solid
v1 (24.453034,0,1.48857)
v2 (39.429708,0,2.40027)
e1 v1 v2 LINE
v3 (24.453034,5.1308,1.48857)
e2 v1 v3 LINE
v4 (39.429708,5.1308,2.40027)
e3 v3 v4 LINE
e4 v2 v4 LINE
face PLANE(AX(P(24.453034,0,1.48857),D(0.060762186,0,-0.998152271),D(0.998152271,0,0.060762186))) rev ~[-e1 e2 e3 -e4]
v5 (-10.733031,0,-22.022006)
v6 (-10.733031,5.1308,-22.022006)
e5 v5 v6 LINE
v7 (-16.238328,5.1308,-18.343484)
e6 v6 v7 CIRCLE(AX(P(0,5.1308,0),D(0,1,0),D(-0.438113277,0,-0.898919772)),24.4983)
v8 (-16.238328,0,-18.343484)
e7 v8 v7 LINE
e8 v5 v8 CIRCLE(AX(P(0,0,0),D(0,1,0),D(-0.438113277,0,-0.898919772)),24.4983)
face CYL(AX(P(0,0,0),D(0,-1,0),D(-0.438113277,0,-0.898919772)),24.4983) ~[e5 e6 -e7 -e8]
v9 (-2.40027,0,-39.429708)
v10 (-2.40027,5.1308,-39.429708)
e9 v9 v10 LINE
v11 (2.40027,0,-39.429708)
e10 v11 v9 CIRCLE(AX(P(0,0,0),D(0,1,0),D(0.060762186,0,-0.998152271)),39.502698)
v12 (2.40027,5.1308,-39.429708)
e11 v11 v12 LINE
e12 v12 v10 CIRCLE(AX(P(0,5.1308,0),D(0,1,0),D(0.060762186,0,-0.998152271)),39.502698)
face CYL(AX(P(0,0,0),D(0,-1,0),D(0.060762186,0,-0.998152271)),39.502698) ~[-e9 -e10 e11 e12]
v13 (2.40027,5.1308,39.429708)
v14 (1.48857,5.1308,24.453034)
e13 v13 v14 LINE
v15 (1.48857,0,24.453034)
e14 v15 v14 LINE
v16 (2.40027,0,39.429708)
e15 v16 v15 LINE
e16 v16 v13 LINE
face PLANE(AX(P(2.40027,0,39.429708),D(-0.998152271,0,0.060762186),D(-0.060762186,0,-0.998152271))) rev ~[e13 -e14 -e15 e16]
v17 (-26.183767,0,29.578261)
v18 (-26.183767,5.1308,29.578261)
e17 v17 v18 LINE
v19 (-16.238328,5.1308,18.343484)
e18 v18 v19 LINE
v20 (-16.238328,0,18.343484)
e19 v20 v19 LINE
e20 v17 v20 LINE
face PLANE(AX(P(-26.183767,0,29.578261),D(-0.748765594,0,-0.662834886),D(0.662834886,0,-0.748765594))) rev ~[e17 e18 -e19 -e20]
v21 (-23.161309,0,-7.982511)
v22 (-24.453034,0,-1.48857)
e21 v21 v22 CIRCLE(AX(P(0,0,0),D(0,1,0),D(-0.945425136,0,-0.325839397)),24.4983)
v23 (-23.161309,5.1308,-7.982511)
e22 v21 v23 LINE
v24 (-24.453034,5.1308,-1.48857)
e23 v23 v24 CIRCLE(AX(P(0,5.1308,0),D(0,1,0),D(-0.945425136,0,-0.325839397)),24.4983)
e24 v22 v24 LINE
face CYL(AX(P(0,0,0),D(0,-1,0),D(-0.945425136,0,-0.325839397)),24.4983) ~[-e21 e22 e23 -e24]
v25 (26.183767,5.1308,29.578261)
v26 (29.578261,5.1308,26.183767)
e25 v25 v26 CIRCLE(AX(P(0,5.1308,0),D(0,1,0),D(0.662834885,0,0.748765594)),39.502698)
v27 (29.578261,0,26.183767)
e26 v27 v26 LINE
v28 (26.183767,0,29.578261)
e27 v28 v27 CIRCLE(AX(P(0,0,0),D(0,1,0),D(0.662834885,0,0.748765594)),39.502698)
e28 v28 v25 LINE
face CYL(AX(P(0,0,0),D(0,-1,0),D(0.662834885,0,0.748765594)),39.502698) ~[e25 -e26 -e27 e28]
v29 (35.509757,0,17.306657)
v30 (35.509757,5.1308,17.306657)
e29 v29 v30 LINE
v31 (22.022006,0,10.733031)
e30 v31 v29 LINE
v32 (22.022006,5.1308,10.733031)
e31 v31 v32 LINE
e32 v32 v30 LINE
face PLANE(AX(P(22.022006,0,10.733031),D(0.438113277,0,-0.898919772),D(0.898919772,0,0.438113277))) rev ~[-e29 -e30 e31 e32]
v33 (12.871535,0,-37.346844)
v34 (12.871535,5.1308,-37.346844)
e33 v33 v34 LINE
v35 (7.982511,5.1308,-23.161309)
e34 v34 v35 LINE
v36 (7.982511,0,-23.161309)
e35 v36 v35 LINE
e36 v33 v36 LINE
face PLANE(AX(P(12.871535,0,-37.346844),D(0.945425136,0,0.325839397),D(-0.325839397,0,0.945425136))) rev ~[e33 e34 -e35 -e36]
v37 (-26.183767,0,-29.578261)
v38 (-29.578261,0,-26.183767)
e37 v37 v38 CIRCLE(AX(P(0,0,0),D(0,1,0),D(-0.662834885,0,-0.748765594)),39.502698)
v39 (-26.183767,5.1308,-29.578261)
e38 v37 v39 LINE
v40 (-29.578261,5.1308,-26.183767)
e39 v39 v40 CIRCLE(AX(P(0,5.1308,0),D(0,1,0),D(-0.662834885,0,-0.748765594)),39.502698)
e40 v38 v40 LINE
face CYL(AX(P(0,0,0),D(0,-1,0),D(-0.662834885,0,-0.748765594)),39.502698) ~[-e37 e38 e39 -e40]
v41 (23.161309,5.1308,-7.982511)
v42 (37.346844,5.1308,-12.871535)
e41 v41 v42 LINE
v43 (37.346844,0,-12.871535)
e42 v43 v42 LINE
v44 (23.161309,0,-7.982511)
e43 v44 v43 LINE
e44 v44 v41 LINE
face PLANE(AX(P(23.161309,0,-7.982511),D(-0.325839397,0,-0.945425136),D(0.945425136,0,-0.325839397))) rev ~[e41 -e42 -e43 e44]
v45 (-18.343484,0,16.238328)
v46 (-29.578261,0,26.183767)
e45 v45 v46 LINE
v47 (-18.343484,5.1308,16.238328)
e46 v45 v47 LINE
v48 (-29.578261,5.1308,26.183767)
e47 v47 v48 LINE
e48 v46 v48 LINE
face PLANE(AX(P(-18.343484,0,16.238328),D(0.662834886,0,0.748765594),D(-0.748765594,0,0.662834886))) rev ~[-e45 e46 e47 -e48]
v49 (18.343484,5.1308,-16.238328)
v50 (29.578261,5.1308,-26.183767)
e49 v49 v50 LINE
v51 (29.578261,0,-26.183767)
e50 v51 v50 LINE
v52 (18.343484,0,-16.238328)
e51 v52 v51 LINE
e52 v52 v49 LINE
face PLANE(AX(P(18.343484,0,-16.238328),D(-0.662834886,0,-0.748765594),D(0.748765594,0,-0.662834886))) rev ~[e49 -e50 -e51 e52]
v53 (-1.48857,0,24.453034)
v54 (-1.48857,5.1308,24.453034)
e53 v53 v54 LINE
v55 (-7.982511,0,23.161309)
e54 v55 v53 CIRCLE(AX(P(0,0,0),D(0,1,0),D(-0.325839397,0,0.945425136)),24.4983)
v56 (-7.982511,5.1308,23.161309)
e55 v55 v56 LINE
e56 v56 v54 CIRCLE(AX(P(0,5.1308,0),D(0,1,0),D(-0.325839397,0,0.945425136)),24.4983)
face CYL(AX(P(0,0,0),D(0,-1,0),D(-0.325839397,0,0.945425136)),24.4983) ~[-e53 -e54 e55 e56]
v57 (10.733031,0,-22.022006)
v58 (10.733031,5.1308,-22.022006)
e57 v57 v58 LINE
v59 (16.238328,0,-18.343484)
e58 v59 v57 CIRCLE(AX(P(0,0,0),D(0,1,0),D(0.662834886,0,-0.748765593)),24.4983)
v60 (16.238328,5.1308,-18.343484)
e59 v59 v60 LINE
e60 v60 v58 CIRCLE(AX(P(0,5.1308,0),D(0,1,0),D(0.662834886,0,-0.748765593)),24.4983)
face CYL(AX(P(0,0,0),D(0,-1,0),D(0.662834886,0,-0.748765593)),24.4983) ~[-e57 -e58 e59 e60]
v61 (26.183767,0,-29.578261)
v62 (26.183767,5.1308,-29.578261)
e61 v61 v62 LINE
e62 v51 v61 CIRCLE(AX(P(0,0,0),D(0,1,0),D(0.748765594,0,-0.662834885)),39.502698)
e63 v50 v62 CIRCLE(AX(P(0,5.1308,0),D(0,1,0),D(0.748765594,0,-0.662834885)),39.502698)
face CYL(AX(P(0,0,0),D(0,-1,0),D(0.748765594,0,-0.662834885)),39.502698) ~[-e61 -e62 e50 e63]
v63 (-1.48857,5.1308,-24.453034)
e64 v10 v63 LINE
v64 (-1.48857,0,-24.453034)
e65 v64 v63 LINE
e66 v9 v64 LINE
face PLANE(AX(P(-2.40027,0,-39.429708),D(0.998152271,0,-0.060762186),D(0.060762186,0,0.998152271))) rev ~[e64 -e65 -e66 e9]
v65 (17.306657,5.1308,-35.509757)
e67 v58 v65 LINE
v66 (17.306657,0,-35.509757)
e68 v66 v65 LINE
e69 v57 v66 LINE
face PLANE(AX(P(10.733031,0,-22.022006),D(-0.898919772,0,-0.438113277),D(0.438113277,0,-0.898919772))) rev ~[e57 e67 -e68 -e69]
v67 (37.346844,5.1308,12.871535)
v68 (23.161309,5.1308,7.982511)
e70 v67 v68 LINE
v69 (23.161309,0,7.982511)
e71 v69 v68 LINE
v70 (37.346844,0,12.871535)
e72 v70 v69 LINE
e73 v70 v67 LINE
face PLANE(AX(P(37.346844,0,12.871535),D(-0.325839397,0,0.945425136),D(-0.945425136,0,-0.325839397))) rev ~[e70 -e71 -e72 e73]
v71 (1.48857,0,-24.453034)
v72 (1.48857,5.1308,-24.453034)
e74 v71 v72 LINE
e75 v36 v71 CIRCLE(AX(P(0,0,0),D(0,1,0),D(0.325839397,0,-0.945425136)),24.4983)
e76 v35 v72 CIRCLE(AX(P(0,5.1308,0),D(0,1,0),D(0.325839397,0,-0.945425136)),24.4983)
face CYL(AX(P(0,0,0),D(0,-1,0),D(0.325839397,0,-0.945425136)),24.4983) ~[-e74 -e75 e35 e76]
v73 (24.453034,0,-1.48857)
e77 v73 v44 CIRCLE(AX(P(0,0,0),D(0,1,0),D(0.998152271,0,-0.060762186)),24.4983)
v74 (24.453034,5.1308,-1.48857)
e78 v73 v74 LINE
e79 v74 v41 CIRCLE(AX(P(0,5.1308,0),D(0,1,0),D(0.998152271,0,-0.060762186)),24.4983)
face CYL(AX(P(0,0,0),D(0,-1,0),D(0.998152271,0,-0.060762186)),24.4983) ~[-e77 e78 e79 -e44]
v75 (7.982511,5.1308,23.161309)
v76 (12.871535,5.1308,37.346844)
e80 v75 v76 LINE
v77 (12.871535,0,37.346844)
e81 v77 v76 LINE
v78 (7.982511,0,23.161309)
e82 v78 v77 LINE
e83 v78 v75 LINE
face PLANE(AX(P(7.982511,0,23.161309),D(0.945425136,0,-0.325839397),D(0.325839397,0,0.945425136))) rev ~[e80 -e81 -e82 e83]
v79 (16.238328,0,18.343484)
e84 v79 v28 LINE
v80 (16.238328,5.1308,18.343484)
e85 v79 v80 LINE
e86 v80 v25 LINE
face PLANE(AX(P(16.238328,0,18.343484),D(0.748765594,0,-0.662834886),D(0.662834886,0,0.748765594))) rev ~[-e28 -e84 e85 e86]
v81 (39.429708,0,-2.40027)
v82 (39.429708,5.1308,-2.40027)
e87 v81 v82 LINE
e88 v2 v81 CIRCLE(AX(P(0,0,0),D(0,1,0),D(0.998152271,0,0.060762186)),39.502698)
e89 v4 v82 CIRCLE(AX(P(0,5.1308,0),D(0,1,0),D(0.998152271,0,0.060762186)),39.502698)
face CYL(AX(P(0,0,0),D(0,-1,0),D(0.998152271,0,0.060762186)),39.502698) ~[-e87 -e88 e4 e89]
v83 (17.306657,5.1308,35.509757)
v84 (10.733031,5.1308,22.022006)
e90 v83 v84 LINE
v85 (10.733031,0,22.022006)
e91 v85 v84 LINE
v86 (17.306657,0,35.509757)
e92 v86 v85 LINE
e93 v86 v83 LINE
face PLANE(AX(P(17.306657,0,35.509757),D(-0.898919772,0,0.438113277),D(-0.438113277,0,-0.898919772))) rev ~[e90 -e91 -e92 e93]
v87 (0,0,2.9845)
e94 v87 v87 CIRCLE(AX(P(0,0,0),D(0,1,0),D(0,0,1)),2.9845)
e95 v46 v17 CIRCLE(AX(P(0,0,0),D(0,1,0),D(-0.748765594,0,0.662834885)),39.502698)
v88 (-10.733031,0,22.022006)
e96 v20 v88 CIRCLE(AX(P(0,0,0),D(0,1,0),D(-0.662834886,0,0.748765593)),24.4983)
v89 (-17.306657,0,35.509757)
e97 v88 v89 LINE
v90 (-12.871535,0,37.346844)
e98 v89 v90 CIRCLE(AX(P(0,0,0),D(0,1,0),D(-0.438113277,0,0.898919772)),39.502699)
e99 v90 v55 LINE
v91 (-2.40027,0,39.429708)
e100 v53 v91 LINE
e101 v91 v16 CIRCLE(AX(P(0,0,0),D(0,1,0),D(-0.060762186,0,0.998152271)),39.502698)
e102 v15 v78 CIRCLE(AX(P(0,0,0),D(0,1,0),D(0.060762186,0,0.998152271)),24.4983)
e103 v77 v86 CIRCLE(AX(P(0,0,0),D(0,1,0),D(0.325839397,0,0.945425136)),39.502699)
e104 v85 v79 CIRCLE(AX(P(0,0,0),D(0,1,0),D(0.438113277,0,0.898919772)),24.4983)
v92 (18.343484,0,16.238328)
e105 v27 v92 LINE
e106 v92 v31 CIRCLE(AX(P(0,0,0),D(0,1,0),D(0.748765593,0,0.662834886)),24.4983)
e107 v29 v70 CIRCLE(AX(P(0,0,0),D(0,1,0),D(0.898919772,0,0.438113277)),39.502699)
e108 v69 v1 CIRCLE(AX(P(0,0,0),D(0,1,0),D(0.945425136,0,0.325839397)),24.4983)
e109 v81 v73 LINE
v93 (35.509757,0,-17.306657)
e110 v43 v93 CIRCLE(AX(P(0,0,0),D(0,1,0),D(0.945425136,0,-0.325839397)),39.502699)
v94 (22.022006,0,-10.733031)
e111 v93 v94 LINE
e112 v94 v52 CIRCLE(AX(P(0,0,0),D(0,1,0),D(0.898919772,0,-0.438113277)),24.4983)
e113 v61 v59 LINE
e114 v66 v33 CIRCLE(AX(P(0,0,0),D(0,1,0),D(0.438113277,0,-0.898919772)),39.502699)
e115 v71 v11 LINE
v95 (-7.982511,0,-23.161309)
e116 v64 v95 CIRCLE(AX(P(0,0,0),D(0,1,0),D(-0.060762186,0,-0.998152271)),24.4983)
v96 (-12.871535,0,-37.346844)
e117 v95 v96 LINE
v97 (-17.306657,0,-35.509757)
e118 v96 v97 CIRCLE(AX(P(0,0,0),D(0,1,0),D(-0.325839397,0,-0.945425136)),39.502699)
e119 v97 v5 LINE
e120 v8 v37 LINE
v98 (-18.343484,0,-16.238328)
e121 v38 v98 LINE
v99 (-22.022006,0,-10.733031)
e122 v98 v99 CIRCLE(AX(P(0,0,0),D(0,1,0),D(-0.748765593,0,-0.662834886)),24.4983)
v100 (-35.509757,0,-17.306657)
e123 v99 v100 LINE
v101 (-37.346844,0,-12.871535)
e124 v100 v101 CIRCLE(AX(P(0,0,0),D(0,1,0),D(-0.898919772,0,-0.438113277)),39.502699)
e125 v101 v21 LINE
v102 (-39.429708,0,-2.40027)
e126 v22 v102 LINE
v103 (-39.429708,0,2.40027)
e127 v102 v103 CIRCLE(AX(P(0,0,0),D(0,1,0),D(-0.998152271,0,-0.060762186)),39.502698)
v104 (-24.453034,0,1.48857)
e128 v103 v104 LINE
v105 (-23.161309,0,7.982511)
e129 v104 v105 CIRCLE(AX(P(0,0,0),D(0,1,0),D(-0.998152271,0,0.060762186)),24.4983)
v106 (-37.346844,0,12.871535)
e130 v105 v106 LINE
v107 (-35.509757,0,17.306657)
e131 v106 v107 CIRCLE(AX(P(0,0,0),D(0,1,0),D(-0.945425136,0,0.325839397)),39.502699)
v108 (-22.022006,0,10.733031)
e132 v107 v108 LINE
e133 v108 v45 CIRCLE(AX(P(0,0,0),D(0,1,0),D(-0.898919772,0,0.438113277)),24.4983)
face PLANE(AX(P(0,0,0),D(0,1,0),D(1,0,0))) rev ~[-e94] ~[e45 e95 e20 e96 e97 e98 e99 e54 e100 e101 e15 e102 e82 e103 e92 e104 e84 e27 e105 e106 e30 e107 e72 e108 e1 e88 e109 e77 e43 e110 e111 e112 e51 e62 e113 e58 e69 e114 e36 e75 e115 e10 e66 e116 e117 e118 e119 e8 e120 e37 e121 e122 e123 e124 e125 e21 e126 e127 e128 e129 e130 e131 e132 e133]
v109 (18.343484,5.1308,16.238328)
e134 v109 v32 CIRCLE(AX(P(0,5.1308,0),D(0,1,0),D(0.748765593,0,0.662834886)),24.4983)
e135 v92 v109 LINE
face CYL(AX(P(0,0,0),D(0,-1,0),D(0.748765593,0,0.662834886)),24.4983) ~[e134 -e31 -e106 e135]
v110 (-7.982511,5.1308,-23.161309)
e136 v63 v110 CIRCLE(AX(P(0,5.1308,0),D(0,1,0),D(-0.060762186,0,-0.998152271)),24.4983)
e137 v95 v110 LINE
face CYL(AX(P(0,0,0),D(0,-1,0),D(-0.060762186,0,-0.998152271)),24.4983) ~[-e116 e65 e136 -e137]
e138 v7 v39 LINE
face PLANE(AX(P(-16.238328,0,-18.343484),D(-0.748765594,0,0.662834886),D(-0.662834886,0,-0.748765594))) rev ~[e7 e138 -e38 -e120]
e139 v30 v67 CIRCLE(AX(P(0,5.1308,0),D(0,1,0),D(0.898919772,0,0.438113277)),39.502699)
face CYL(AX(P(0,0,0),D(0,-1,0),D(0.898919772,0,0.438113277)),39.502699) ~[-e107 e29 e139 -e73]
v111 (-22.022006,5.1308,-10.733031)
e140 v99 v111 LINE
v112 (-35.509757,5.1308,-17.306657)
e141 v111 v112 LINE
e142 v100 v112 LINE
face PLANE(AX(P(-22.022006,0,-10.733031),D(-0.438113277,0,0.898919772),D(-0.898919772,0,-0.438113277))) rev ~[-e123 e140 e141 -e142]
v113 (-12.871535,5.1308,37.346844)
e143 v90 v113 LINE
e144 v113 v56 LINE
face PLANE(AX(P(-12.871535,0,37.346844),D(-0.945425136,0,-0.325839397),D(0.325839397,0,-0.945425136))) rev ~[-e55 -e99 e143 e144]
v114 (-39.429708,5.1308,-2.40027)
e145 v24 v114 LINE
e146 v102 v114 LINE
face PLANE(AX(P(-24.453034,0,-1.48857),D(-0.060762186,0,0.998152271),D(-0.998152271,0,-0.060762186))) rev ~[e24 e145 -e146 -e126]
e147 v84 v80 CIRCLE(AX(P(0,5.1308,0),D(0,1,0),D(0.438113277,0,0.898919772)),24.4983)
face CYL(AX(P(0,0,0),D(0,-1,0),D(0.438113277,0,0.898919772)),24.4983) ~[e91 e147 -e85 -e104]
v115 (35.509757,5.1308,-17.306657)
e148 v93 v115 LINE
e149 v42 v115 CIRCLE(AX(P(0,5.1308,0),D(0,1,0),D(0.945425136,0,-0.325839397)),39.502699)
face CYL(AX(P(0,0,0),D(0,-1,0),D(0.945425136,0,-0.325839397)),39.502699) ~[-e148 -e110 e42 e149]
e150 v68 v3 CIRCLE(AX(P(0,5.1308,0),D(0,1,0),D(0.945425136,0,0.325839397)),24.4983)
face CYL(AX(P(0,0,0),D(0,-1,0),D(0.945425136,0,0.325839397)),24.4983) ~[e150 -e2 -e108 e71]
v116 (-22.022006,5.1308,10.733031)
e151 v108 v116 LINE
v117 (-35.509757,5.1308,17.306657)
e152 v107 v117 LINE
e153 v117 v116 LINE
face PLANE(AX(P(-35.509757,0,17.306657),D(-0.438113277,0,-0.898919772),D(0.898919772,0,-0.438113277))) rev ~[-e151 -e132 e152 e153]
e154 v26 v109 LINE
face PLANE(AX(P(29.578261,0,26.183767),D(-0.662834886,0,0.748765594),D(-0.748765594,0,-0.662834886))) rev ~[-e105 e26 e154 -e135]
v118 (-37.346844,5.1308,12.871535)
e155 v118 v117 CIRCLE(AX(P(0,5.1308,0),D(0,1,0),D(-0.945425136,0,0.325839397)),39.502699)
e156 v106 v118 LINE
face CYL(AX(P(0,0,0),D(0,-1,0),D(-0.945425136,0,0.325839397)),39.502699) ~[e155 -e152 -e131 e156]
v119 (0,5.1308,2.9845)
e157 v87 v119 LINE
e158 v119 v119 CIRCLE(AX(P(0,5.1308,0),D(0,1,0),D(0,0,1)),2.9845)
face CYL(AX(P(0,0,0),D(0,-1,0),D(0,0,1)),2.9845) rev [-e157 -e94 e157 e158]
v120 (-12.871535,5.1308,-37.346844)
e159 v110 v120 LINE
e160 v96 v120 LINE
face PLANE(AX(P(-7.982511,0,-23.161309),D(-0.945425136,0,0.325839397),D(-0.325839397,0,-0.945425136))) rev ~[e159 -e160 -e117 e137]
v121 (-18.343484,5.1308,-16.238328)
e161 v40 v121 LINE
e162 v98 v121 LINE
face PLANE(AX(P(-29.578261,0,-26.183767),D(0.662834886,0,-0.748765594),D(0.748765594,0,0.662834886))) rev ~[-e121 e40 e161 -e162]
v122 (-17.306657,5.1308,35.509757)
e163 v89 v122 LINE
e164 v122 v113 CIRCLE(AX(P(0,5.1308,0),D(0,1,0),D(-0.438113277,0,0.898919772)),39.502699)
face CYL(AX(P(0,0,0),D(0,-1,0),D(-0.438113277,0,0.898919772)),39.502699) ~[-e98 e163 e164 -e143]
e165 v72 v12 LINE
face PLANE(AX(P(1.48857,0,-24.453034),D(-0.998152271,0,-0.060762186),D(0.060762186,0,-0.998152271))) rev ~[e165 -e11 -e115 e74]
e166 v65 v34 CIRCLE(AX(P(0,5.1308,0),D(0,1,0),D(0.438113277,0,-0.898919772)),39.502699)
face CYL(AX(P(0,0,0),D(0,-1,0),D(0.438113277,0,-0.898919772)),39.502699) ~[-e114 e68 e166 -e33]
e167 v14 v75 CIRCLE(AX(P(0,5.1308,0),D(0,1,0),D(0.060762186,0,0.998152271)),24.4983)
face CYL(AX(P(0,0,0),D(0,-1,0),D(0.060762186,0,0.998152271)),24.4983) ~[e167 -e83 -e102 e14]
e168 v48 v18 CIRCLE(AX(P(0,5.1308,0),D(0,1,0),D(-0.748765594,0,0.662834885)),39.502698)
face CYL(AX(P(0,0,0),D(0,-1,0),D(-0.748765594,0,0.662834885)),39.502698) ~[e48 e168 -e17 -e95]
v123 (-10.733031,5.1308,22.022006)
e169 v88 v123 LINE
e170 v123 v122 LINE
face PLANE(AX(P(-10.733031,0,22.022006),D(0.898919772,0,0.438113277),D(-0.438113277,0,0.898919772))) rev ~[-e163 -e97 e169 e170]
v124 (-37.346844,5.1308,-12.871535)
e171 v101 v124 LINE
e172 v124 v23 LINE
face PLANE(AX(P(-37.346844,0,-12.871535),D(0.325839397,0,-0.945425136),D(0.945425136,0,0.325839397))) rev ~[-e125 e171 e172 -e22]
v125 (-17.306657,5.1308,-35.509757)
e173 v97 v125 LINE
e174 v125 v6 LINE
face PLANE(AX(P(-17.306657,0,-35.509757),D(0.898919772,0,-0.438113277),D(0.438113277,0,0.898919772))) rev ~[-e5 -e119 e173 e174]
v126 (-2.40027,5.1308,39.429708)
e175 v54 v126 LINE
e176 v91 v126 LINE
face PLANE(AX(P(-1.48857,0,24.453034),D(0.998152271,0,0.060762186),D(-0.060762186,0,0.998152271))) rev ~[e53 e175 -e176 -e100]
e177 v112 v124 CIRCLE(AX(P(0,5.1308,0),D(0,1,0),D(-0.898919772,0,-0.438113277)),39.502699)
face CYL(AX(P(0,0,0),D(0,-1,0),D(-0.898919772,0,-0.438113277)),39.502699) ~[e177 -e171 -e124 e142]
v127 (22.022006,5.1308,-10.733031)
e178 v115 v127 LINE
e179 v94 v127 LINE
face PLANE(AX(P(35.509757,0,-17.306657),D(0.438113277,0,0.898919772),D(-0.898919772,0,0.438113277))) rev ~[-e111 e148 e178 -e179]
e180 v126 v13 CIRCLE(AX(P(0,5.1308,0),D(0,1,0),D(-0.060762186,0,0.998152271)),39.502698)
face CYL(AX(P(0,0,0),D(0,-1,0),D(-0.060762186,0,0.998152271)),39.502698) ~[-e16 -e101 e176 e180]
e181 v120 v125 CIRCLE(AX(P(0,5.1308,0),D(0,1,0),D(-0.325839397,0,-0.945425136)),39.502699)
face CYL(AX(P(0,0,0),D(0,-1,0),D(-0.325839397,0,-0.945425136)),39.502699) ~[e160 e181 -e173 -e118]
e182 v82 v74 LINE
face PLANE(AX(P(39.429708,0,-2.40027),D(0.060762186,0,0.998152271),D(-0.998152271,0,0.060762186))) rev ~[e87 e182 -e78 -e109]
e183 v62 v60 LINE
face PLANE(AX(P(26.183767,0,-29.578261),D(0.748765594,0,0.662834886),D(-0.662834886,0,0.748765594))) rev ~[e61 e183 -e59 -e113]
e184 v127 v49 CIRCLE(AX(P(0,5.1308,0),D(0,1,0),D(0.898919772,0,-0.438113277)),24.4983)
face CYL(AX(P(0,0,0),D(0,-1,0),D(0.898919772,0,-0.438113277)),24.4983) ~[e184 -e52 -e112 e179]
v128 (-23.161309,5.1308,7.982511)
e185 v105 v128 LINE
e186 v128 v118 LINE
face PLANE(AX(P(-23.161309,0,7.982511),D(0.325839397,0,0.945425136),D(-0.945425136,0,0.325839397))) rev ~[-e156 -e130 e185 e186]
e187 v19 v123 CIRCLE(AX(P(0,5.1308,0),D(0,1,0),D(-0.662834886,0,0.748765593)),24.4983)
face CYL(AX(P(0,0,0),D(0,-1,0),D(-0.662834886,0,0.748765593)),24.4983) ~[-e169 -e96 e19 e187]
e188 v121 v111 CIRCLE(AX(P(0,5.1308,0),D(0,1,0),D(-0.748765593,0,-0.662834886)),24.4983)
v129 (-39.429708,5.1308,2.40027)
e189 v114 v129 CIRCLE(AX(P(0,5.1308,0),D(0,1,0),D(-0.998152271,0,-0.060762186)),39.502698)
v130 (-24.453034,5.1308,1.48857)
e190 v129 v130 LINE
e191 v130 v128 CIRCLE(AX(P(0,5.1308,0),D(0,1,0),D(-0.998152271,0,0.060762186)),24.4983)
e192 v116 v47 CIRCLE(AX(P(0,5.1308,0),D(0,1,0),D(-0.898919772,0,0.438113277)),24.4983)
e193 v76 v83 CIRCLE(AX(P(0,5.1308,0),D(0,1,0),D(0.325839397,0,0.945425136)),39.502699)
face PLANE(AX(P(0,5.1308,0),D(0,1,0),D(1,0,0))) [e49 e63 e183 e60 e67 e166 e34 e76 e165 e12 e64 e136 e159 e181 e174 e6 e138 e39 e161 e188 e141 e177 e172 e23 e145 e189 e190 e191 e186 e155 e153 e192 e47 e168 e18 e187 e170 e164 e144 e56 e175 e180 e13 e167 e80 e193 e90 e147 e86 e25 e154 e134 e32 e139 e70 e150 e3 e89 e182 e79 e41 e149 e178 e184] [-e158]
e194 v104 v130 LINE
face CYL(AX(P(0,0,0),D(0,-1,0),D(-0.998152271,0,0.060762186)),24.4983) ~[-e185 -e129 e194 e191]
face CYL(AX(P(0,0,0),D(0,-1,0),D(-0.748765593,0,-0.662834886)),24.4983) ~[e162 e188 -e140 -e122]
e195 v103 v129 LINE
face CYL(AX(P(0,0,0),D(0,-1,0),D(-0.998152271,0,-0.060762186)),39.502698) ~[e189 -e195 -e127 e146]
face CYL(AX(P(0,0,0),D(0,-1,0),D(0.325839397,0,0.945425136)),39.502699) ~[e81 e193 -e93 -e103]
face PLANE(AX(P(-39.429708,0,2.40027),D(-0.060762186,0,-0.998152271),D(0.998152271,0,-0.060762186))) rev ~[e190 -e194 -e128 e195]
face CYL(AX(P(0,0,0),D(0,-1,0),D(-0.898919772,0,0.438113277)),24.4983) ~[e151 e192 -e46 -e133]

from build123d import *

# Parameters (mm, degrees)
SKETCH2_R           = 2.9845
BOSS_EXTRUDE1_DEPTH = 5.1308


with BuildPart() as part:
    # Sketch2 → Boss-Extrude1 (new body)
    with BuildSketch(Plane(origin=(0, 0, 0), x_dir=(1, 0, 0), z_dir=(0, 1, 0))):
        with BuildLine():
            Line((-17.306656678, 35.509756676), (-10.733030501, 22.022006247))
            ThreePointArc((-10.733030501, 22.022006247), (-13.61052624, 20.369592003), (-16.238327885, 18.34348414))
            Line((-16.238327885, 18.34348414), (-26.183766617, 29.578261448))
            ThreePointArc((-26.183766617, 29.578261448), (-27.932625947, 27.932625947), (-29.578261448, 26.183766617))
            Line((-29.578261448, 26.183766617), (-18.34348414, 16.238327885))
            ThreePointArc((-18.34348414, 16.238327885), (-20.369592003, 13.61052624), (-22.022006247, 10.733030501))
            Line((-22.022006247, 10.733030501), (-35.509756676, 17.306656678))
            ThreePointArc((-35.509756676, 17.306656678), (-36.495734573, 15.117028229), (-37.34684404, 12.871535447))
            Line((-37.34684404, 12.871535447), (-23.161308603, 7.982511303))
            ThreePointArc((-23.161308603, 7.982511303), (-24.027572035, 4.779381236), (-24.453033788, 1.488570263))
            Line((-24.453033788, 1.488570263), (-39.429708177, 2.400270314))
            ThreePointArc((-39.429708177, 2.400270314), (-39.502698446, 0), (-39.429708177, -2.400270314))
            Line((-39.429708177, -2.400270314), (-24.453033788, -1.488570263))
            ThreePointArc((-24.453033788, -1.488570263), (-24.027572035, -4.779381236), (-23.161308603, -7.982511303))
            Line((-23.161308603, -7.982511303), (-37.34684404, -12.871535447))
            ThreePointArc((-37.34684404, -12.871535447), (-36.495734573, -15.117028229), (-35.509756676, -17.306656678))
            Line((-35.509756676, -17.306656678), (-22.022006247, -10.733030501))
            ThreePointArc((-22.022006247, -10.733030501), (-20.369592003, -13.61052624), (-18.34348414, -16.238327885))
            Line((-18.34348414, -16.238327885), (-29.578261448, -26.183766617))
            ThreePointArc((-29.578261448, -26.183766617), (-27.932625947, -27.932625947), (-26.183766617, -29.578261448))
            Line((-26.183766617, -29.578261448), (-16.238327885, -18.34348414))
            ThreePointArc((-16.238327885, -18.34348414), (-13.61052624, -20.369592003), (-10.733030501, -22.022006247))
            Line((-10.733030501, -22.022006247), (-17.306656678, -35.509756676))
            ThreePointArc((-17.306656678, -35.509756676), (-15.117028229, -36.495734573), (-12.871535447, -37.34684404))
            Line((-12.871535447, -37.34684404), (-7.982511303, -23.161308603))
            ThreePointArc((-7.982511303, -23.161308603), (-4.779381236, -24.027572035), (-1.488570263, -24.453033788))
            Line((-1.488570263, -24.453033788), (-2.400270314, -39.429708177))
            ThreePointArc((-2.400270314, -39.429708177), (0, -39.502698446), (2.400270314, -39.429708177))
            Line((2.400270314, -39.429708177), (1.488570263, -24.453033788))
            ThreePointArc((1.488570263, -24.453033788), (4.779381236, -24.027572035), (7.982511303, -23.161308603))
            Line((7.982511303, -23.161308603), (12.871535447, -37.34684404))
            ThreePointArc((12.871535447, -37.34684404), (15.117028229, -36.495734573), (17.306656678, -35.509756676))
            Line((17.306656678, -35.509756676), (10.733030501, -22.022006247))
            ThreePointArc((10.733030501, -22.022006247), (13.61052624, -20.369592003), (16.238327885, -18.34348414))
            Line((16.238327885, -18.34348414), (26.183766617, -29.578261448))
            ThreePointArc((26.183766617, -29.578261448), (27.932625947, -27.932625947), (29.578261448, -26.183766617))
            Line((29.578261448, -26.183766617), (18.34348414, -16.238327885))
            ThreePointArc((18.34348414, -16.238327885), (20.369592003, -13.61052624), (22.022006247, -10.733030501))
            Line((22.022006247, -10.733030501), (35.509756676, -17.306656678))
            ThreePointArc((35.509756676, -17.306656678), (36.495734573, -15.117028229), (37.34684404, -12.871535447))
            Line((37.34684404, -12.871535447), (23.161308603, -7.982511303))
            ThreePointArc((23.161308603, -7.982511303), (24.027572035, -4.779381236), (24.453033788, -1.488570263))
            Line((24.453033788, -1.488570263), (39.429708177, -2.400270314))
            ThreePointArc((39.429708177, -2.400270314), (39.502698446, 0), (39.429708177, 2.400270314))
            Line((39.429708177, 2.400270314), (24.453033788, 1.488570263))
            ThreePointArc((24.453033788, 1.488570263), (24.027572035, 4.779381236), (23.161308603, 7.982511303))
            Line((23.161308603, 7.982511303), (37.34684404, 12.871535447))
            ThreePointArc((37.34684404, 12.871535447), (36.495734573, 15.117028229), (35.509756676, 17.306656678))
            Line((35.509756676, 17.306656678), (22.022006247, 10.733030501))
            ThreePointArc((22.022006247, 10.733030501), (20.369592003, 13.61052624), (18.34348414, 16.238327885))
            Line((18.34348414, 16.238327885), (29.578261448, 26.183766617))
            ThreePointArc((29.578261448, 26.183766617), (27.932625947, 27.932625947), (26.183766617, 29.578261448))
            Line((26.183766617, 29.578261448), (16.238327885, 18.34348414))
            ThreePointArc((16.238327885, 18.34348414), (13.61052624, 20.369592003), (10.733030501, 22.022006247))
            Line((10.733030501, 22.022006247), (17.306656678, 35.509756676))
            ThreePointArc((17.306656678, 35.509756676), (15.117028229, 36.495734573), (12.871535447, 37.34684404))
            Line((12.871535447, 37.34684404), (7.982511303, 23.161308603))
            ThreePointArc((7.982511303, 23.161308603), (4.779381236, 24.027572035), (1.488570263, 24.453033788))
            Line((1.488570263, 24.453033788), (2.400270314, 39.429708177))
            ThreePointArc((2.400270314, 39.429708177), (0, 39.502698446), (-2.400270314, 39.429708177))
            Line((-2.400270314, 39.429708177), (-1.488570263, 24.453033788))
            ThreePointArc((-1.488570263, 24.453033788), (-4.779381236, 24.027572035), (-7.982511303, 23.161308603))
            Line((-7.982511303, 23.161308603), (-12.871535447, 37.34684404))
            ThreePointArc((-12.871535447, 37.34684404), (-15.117028229, 36.495734573), (-17.306656678, 35.509756676))
        make_face()
        with Locations(Location((0, 0, 0), (0, 0, 270))):
            Circle(SKETCH2_R, mode=Mode.SUBTRACT)
    extrude(amount=BOSS_EXTRUDE1_DEPTH)


solid = part.part
